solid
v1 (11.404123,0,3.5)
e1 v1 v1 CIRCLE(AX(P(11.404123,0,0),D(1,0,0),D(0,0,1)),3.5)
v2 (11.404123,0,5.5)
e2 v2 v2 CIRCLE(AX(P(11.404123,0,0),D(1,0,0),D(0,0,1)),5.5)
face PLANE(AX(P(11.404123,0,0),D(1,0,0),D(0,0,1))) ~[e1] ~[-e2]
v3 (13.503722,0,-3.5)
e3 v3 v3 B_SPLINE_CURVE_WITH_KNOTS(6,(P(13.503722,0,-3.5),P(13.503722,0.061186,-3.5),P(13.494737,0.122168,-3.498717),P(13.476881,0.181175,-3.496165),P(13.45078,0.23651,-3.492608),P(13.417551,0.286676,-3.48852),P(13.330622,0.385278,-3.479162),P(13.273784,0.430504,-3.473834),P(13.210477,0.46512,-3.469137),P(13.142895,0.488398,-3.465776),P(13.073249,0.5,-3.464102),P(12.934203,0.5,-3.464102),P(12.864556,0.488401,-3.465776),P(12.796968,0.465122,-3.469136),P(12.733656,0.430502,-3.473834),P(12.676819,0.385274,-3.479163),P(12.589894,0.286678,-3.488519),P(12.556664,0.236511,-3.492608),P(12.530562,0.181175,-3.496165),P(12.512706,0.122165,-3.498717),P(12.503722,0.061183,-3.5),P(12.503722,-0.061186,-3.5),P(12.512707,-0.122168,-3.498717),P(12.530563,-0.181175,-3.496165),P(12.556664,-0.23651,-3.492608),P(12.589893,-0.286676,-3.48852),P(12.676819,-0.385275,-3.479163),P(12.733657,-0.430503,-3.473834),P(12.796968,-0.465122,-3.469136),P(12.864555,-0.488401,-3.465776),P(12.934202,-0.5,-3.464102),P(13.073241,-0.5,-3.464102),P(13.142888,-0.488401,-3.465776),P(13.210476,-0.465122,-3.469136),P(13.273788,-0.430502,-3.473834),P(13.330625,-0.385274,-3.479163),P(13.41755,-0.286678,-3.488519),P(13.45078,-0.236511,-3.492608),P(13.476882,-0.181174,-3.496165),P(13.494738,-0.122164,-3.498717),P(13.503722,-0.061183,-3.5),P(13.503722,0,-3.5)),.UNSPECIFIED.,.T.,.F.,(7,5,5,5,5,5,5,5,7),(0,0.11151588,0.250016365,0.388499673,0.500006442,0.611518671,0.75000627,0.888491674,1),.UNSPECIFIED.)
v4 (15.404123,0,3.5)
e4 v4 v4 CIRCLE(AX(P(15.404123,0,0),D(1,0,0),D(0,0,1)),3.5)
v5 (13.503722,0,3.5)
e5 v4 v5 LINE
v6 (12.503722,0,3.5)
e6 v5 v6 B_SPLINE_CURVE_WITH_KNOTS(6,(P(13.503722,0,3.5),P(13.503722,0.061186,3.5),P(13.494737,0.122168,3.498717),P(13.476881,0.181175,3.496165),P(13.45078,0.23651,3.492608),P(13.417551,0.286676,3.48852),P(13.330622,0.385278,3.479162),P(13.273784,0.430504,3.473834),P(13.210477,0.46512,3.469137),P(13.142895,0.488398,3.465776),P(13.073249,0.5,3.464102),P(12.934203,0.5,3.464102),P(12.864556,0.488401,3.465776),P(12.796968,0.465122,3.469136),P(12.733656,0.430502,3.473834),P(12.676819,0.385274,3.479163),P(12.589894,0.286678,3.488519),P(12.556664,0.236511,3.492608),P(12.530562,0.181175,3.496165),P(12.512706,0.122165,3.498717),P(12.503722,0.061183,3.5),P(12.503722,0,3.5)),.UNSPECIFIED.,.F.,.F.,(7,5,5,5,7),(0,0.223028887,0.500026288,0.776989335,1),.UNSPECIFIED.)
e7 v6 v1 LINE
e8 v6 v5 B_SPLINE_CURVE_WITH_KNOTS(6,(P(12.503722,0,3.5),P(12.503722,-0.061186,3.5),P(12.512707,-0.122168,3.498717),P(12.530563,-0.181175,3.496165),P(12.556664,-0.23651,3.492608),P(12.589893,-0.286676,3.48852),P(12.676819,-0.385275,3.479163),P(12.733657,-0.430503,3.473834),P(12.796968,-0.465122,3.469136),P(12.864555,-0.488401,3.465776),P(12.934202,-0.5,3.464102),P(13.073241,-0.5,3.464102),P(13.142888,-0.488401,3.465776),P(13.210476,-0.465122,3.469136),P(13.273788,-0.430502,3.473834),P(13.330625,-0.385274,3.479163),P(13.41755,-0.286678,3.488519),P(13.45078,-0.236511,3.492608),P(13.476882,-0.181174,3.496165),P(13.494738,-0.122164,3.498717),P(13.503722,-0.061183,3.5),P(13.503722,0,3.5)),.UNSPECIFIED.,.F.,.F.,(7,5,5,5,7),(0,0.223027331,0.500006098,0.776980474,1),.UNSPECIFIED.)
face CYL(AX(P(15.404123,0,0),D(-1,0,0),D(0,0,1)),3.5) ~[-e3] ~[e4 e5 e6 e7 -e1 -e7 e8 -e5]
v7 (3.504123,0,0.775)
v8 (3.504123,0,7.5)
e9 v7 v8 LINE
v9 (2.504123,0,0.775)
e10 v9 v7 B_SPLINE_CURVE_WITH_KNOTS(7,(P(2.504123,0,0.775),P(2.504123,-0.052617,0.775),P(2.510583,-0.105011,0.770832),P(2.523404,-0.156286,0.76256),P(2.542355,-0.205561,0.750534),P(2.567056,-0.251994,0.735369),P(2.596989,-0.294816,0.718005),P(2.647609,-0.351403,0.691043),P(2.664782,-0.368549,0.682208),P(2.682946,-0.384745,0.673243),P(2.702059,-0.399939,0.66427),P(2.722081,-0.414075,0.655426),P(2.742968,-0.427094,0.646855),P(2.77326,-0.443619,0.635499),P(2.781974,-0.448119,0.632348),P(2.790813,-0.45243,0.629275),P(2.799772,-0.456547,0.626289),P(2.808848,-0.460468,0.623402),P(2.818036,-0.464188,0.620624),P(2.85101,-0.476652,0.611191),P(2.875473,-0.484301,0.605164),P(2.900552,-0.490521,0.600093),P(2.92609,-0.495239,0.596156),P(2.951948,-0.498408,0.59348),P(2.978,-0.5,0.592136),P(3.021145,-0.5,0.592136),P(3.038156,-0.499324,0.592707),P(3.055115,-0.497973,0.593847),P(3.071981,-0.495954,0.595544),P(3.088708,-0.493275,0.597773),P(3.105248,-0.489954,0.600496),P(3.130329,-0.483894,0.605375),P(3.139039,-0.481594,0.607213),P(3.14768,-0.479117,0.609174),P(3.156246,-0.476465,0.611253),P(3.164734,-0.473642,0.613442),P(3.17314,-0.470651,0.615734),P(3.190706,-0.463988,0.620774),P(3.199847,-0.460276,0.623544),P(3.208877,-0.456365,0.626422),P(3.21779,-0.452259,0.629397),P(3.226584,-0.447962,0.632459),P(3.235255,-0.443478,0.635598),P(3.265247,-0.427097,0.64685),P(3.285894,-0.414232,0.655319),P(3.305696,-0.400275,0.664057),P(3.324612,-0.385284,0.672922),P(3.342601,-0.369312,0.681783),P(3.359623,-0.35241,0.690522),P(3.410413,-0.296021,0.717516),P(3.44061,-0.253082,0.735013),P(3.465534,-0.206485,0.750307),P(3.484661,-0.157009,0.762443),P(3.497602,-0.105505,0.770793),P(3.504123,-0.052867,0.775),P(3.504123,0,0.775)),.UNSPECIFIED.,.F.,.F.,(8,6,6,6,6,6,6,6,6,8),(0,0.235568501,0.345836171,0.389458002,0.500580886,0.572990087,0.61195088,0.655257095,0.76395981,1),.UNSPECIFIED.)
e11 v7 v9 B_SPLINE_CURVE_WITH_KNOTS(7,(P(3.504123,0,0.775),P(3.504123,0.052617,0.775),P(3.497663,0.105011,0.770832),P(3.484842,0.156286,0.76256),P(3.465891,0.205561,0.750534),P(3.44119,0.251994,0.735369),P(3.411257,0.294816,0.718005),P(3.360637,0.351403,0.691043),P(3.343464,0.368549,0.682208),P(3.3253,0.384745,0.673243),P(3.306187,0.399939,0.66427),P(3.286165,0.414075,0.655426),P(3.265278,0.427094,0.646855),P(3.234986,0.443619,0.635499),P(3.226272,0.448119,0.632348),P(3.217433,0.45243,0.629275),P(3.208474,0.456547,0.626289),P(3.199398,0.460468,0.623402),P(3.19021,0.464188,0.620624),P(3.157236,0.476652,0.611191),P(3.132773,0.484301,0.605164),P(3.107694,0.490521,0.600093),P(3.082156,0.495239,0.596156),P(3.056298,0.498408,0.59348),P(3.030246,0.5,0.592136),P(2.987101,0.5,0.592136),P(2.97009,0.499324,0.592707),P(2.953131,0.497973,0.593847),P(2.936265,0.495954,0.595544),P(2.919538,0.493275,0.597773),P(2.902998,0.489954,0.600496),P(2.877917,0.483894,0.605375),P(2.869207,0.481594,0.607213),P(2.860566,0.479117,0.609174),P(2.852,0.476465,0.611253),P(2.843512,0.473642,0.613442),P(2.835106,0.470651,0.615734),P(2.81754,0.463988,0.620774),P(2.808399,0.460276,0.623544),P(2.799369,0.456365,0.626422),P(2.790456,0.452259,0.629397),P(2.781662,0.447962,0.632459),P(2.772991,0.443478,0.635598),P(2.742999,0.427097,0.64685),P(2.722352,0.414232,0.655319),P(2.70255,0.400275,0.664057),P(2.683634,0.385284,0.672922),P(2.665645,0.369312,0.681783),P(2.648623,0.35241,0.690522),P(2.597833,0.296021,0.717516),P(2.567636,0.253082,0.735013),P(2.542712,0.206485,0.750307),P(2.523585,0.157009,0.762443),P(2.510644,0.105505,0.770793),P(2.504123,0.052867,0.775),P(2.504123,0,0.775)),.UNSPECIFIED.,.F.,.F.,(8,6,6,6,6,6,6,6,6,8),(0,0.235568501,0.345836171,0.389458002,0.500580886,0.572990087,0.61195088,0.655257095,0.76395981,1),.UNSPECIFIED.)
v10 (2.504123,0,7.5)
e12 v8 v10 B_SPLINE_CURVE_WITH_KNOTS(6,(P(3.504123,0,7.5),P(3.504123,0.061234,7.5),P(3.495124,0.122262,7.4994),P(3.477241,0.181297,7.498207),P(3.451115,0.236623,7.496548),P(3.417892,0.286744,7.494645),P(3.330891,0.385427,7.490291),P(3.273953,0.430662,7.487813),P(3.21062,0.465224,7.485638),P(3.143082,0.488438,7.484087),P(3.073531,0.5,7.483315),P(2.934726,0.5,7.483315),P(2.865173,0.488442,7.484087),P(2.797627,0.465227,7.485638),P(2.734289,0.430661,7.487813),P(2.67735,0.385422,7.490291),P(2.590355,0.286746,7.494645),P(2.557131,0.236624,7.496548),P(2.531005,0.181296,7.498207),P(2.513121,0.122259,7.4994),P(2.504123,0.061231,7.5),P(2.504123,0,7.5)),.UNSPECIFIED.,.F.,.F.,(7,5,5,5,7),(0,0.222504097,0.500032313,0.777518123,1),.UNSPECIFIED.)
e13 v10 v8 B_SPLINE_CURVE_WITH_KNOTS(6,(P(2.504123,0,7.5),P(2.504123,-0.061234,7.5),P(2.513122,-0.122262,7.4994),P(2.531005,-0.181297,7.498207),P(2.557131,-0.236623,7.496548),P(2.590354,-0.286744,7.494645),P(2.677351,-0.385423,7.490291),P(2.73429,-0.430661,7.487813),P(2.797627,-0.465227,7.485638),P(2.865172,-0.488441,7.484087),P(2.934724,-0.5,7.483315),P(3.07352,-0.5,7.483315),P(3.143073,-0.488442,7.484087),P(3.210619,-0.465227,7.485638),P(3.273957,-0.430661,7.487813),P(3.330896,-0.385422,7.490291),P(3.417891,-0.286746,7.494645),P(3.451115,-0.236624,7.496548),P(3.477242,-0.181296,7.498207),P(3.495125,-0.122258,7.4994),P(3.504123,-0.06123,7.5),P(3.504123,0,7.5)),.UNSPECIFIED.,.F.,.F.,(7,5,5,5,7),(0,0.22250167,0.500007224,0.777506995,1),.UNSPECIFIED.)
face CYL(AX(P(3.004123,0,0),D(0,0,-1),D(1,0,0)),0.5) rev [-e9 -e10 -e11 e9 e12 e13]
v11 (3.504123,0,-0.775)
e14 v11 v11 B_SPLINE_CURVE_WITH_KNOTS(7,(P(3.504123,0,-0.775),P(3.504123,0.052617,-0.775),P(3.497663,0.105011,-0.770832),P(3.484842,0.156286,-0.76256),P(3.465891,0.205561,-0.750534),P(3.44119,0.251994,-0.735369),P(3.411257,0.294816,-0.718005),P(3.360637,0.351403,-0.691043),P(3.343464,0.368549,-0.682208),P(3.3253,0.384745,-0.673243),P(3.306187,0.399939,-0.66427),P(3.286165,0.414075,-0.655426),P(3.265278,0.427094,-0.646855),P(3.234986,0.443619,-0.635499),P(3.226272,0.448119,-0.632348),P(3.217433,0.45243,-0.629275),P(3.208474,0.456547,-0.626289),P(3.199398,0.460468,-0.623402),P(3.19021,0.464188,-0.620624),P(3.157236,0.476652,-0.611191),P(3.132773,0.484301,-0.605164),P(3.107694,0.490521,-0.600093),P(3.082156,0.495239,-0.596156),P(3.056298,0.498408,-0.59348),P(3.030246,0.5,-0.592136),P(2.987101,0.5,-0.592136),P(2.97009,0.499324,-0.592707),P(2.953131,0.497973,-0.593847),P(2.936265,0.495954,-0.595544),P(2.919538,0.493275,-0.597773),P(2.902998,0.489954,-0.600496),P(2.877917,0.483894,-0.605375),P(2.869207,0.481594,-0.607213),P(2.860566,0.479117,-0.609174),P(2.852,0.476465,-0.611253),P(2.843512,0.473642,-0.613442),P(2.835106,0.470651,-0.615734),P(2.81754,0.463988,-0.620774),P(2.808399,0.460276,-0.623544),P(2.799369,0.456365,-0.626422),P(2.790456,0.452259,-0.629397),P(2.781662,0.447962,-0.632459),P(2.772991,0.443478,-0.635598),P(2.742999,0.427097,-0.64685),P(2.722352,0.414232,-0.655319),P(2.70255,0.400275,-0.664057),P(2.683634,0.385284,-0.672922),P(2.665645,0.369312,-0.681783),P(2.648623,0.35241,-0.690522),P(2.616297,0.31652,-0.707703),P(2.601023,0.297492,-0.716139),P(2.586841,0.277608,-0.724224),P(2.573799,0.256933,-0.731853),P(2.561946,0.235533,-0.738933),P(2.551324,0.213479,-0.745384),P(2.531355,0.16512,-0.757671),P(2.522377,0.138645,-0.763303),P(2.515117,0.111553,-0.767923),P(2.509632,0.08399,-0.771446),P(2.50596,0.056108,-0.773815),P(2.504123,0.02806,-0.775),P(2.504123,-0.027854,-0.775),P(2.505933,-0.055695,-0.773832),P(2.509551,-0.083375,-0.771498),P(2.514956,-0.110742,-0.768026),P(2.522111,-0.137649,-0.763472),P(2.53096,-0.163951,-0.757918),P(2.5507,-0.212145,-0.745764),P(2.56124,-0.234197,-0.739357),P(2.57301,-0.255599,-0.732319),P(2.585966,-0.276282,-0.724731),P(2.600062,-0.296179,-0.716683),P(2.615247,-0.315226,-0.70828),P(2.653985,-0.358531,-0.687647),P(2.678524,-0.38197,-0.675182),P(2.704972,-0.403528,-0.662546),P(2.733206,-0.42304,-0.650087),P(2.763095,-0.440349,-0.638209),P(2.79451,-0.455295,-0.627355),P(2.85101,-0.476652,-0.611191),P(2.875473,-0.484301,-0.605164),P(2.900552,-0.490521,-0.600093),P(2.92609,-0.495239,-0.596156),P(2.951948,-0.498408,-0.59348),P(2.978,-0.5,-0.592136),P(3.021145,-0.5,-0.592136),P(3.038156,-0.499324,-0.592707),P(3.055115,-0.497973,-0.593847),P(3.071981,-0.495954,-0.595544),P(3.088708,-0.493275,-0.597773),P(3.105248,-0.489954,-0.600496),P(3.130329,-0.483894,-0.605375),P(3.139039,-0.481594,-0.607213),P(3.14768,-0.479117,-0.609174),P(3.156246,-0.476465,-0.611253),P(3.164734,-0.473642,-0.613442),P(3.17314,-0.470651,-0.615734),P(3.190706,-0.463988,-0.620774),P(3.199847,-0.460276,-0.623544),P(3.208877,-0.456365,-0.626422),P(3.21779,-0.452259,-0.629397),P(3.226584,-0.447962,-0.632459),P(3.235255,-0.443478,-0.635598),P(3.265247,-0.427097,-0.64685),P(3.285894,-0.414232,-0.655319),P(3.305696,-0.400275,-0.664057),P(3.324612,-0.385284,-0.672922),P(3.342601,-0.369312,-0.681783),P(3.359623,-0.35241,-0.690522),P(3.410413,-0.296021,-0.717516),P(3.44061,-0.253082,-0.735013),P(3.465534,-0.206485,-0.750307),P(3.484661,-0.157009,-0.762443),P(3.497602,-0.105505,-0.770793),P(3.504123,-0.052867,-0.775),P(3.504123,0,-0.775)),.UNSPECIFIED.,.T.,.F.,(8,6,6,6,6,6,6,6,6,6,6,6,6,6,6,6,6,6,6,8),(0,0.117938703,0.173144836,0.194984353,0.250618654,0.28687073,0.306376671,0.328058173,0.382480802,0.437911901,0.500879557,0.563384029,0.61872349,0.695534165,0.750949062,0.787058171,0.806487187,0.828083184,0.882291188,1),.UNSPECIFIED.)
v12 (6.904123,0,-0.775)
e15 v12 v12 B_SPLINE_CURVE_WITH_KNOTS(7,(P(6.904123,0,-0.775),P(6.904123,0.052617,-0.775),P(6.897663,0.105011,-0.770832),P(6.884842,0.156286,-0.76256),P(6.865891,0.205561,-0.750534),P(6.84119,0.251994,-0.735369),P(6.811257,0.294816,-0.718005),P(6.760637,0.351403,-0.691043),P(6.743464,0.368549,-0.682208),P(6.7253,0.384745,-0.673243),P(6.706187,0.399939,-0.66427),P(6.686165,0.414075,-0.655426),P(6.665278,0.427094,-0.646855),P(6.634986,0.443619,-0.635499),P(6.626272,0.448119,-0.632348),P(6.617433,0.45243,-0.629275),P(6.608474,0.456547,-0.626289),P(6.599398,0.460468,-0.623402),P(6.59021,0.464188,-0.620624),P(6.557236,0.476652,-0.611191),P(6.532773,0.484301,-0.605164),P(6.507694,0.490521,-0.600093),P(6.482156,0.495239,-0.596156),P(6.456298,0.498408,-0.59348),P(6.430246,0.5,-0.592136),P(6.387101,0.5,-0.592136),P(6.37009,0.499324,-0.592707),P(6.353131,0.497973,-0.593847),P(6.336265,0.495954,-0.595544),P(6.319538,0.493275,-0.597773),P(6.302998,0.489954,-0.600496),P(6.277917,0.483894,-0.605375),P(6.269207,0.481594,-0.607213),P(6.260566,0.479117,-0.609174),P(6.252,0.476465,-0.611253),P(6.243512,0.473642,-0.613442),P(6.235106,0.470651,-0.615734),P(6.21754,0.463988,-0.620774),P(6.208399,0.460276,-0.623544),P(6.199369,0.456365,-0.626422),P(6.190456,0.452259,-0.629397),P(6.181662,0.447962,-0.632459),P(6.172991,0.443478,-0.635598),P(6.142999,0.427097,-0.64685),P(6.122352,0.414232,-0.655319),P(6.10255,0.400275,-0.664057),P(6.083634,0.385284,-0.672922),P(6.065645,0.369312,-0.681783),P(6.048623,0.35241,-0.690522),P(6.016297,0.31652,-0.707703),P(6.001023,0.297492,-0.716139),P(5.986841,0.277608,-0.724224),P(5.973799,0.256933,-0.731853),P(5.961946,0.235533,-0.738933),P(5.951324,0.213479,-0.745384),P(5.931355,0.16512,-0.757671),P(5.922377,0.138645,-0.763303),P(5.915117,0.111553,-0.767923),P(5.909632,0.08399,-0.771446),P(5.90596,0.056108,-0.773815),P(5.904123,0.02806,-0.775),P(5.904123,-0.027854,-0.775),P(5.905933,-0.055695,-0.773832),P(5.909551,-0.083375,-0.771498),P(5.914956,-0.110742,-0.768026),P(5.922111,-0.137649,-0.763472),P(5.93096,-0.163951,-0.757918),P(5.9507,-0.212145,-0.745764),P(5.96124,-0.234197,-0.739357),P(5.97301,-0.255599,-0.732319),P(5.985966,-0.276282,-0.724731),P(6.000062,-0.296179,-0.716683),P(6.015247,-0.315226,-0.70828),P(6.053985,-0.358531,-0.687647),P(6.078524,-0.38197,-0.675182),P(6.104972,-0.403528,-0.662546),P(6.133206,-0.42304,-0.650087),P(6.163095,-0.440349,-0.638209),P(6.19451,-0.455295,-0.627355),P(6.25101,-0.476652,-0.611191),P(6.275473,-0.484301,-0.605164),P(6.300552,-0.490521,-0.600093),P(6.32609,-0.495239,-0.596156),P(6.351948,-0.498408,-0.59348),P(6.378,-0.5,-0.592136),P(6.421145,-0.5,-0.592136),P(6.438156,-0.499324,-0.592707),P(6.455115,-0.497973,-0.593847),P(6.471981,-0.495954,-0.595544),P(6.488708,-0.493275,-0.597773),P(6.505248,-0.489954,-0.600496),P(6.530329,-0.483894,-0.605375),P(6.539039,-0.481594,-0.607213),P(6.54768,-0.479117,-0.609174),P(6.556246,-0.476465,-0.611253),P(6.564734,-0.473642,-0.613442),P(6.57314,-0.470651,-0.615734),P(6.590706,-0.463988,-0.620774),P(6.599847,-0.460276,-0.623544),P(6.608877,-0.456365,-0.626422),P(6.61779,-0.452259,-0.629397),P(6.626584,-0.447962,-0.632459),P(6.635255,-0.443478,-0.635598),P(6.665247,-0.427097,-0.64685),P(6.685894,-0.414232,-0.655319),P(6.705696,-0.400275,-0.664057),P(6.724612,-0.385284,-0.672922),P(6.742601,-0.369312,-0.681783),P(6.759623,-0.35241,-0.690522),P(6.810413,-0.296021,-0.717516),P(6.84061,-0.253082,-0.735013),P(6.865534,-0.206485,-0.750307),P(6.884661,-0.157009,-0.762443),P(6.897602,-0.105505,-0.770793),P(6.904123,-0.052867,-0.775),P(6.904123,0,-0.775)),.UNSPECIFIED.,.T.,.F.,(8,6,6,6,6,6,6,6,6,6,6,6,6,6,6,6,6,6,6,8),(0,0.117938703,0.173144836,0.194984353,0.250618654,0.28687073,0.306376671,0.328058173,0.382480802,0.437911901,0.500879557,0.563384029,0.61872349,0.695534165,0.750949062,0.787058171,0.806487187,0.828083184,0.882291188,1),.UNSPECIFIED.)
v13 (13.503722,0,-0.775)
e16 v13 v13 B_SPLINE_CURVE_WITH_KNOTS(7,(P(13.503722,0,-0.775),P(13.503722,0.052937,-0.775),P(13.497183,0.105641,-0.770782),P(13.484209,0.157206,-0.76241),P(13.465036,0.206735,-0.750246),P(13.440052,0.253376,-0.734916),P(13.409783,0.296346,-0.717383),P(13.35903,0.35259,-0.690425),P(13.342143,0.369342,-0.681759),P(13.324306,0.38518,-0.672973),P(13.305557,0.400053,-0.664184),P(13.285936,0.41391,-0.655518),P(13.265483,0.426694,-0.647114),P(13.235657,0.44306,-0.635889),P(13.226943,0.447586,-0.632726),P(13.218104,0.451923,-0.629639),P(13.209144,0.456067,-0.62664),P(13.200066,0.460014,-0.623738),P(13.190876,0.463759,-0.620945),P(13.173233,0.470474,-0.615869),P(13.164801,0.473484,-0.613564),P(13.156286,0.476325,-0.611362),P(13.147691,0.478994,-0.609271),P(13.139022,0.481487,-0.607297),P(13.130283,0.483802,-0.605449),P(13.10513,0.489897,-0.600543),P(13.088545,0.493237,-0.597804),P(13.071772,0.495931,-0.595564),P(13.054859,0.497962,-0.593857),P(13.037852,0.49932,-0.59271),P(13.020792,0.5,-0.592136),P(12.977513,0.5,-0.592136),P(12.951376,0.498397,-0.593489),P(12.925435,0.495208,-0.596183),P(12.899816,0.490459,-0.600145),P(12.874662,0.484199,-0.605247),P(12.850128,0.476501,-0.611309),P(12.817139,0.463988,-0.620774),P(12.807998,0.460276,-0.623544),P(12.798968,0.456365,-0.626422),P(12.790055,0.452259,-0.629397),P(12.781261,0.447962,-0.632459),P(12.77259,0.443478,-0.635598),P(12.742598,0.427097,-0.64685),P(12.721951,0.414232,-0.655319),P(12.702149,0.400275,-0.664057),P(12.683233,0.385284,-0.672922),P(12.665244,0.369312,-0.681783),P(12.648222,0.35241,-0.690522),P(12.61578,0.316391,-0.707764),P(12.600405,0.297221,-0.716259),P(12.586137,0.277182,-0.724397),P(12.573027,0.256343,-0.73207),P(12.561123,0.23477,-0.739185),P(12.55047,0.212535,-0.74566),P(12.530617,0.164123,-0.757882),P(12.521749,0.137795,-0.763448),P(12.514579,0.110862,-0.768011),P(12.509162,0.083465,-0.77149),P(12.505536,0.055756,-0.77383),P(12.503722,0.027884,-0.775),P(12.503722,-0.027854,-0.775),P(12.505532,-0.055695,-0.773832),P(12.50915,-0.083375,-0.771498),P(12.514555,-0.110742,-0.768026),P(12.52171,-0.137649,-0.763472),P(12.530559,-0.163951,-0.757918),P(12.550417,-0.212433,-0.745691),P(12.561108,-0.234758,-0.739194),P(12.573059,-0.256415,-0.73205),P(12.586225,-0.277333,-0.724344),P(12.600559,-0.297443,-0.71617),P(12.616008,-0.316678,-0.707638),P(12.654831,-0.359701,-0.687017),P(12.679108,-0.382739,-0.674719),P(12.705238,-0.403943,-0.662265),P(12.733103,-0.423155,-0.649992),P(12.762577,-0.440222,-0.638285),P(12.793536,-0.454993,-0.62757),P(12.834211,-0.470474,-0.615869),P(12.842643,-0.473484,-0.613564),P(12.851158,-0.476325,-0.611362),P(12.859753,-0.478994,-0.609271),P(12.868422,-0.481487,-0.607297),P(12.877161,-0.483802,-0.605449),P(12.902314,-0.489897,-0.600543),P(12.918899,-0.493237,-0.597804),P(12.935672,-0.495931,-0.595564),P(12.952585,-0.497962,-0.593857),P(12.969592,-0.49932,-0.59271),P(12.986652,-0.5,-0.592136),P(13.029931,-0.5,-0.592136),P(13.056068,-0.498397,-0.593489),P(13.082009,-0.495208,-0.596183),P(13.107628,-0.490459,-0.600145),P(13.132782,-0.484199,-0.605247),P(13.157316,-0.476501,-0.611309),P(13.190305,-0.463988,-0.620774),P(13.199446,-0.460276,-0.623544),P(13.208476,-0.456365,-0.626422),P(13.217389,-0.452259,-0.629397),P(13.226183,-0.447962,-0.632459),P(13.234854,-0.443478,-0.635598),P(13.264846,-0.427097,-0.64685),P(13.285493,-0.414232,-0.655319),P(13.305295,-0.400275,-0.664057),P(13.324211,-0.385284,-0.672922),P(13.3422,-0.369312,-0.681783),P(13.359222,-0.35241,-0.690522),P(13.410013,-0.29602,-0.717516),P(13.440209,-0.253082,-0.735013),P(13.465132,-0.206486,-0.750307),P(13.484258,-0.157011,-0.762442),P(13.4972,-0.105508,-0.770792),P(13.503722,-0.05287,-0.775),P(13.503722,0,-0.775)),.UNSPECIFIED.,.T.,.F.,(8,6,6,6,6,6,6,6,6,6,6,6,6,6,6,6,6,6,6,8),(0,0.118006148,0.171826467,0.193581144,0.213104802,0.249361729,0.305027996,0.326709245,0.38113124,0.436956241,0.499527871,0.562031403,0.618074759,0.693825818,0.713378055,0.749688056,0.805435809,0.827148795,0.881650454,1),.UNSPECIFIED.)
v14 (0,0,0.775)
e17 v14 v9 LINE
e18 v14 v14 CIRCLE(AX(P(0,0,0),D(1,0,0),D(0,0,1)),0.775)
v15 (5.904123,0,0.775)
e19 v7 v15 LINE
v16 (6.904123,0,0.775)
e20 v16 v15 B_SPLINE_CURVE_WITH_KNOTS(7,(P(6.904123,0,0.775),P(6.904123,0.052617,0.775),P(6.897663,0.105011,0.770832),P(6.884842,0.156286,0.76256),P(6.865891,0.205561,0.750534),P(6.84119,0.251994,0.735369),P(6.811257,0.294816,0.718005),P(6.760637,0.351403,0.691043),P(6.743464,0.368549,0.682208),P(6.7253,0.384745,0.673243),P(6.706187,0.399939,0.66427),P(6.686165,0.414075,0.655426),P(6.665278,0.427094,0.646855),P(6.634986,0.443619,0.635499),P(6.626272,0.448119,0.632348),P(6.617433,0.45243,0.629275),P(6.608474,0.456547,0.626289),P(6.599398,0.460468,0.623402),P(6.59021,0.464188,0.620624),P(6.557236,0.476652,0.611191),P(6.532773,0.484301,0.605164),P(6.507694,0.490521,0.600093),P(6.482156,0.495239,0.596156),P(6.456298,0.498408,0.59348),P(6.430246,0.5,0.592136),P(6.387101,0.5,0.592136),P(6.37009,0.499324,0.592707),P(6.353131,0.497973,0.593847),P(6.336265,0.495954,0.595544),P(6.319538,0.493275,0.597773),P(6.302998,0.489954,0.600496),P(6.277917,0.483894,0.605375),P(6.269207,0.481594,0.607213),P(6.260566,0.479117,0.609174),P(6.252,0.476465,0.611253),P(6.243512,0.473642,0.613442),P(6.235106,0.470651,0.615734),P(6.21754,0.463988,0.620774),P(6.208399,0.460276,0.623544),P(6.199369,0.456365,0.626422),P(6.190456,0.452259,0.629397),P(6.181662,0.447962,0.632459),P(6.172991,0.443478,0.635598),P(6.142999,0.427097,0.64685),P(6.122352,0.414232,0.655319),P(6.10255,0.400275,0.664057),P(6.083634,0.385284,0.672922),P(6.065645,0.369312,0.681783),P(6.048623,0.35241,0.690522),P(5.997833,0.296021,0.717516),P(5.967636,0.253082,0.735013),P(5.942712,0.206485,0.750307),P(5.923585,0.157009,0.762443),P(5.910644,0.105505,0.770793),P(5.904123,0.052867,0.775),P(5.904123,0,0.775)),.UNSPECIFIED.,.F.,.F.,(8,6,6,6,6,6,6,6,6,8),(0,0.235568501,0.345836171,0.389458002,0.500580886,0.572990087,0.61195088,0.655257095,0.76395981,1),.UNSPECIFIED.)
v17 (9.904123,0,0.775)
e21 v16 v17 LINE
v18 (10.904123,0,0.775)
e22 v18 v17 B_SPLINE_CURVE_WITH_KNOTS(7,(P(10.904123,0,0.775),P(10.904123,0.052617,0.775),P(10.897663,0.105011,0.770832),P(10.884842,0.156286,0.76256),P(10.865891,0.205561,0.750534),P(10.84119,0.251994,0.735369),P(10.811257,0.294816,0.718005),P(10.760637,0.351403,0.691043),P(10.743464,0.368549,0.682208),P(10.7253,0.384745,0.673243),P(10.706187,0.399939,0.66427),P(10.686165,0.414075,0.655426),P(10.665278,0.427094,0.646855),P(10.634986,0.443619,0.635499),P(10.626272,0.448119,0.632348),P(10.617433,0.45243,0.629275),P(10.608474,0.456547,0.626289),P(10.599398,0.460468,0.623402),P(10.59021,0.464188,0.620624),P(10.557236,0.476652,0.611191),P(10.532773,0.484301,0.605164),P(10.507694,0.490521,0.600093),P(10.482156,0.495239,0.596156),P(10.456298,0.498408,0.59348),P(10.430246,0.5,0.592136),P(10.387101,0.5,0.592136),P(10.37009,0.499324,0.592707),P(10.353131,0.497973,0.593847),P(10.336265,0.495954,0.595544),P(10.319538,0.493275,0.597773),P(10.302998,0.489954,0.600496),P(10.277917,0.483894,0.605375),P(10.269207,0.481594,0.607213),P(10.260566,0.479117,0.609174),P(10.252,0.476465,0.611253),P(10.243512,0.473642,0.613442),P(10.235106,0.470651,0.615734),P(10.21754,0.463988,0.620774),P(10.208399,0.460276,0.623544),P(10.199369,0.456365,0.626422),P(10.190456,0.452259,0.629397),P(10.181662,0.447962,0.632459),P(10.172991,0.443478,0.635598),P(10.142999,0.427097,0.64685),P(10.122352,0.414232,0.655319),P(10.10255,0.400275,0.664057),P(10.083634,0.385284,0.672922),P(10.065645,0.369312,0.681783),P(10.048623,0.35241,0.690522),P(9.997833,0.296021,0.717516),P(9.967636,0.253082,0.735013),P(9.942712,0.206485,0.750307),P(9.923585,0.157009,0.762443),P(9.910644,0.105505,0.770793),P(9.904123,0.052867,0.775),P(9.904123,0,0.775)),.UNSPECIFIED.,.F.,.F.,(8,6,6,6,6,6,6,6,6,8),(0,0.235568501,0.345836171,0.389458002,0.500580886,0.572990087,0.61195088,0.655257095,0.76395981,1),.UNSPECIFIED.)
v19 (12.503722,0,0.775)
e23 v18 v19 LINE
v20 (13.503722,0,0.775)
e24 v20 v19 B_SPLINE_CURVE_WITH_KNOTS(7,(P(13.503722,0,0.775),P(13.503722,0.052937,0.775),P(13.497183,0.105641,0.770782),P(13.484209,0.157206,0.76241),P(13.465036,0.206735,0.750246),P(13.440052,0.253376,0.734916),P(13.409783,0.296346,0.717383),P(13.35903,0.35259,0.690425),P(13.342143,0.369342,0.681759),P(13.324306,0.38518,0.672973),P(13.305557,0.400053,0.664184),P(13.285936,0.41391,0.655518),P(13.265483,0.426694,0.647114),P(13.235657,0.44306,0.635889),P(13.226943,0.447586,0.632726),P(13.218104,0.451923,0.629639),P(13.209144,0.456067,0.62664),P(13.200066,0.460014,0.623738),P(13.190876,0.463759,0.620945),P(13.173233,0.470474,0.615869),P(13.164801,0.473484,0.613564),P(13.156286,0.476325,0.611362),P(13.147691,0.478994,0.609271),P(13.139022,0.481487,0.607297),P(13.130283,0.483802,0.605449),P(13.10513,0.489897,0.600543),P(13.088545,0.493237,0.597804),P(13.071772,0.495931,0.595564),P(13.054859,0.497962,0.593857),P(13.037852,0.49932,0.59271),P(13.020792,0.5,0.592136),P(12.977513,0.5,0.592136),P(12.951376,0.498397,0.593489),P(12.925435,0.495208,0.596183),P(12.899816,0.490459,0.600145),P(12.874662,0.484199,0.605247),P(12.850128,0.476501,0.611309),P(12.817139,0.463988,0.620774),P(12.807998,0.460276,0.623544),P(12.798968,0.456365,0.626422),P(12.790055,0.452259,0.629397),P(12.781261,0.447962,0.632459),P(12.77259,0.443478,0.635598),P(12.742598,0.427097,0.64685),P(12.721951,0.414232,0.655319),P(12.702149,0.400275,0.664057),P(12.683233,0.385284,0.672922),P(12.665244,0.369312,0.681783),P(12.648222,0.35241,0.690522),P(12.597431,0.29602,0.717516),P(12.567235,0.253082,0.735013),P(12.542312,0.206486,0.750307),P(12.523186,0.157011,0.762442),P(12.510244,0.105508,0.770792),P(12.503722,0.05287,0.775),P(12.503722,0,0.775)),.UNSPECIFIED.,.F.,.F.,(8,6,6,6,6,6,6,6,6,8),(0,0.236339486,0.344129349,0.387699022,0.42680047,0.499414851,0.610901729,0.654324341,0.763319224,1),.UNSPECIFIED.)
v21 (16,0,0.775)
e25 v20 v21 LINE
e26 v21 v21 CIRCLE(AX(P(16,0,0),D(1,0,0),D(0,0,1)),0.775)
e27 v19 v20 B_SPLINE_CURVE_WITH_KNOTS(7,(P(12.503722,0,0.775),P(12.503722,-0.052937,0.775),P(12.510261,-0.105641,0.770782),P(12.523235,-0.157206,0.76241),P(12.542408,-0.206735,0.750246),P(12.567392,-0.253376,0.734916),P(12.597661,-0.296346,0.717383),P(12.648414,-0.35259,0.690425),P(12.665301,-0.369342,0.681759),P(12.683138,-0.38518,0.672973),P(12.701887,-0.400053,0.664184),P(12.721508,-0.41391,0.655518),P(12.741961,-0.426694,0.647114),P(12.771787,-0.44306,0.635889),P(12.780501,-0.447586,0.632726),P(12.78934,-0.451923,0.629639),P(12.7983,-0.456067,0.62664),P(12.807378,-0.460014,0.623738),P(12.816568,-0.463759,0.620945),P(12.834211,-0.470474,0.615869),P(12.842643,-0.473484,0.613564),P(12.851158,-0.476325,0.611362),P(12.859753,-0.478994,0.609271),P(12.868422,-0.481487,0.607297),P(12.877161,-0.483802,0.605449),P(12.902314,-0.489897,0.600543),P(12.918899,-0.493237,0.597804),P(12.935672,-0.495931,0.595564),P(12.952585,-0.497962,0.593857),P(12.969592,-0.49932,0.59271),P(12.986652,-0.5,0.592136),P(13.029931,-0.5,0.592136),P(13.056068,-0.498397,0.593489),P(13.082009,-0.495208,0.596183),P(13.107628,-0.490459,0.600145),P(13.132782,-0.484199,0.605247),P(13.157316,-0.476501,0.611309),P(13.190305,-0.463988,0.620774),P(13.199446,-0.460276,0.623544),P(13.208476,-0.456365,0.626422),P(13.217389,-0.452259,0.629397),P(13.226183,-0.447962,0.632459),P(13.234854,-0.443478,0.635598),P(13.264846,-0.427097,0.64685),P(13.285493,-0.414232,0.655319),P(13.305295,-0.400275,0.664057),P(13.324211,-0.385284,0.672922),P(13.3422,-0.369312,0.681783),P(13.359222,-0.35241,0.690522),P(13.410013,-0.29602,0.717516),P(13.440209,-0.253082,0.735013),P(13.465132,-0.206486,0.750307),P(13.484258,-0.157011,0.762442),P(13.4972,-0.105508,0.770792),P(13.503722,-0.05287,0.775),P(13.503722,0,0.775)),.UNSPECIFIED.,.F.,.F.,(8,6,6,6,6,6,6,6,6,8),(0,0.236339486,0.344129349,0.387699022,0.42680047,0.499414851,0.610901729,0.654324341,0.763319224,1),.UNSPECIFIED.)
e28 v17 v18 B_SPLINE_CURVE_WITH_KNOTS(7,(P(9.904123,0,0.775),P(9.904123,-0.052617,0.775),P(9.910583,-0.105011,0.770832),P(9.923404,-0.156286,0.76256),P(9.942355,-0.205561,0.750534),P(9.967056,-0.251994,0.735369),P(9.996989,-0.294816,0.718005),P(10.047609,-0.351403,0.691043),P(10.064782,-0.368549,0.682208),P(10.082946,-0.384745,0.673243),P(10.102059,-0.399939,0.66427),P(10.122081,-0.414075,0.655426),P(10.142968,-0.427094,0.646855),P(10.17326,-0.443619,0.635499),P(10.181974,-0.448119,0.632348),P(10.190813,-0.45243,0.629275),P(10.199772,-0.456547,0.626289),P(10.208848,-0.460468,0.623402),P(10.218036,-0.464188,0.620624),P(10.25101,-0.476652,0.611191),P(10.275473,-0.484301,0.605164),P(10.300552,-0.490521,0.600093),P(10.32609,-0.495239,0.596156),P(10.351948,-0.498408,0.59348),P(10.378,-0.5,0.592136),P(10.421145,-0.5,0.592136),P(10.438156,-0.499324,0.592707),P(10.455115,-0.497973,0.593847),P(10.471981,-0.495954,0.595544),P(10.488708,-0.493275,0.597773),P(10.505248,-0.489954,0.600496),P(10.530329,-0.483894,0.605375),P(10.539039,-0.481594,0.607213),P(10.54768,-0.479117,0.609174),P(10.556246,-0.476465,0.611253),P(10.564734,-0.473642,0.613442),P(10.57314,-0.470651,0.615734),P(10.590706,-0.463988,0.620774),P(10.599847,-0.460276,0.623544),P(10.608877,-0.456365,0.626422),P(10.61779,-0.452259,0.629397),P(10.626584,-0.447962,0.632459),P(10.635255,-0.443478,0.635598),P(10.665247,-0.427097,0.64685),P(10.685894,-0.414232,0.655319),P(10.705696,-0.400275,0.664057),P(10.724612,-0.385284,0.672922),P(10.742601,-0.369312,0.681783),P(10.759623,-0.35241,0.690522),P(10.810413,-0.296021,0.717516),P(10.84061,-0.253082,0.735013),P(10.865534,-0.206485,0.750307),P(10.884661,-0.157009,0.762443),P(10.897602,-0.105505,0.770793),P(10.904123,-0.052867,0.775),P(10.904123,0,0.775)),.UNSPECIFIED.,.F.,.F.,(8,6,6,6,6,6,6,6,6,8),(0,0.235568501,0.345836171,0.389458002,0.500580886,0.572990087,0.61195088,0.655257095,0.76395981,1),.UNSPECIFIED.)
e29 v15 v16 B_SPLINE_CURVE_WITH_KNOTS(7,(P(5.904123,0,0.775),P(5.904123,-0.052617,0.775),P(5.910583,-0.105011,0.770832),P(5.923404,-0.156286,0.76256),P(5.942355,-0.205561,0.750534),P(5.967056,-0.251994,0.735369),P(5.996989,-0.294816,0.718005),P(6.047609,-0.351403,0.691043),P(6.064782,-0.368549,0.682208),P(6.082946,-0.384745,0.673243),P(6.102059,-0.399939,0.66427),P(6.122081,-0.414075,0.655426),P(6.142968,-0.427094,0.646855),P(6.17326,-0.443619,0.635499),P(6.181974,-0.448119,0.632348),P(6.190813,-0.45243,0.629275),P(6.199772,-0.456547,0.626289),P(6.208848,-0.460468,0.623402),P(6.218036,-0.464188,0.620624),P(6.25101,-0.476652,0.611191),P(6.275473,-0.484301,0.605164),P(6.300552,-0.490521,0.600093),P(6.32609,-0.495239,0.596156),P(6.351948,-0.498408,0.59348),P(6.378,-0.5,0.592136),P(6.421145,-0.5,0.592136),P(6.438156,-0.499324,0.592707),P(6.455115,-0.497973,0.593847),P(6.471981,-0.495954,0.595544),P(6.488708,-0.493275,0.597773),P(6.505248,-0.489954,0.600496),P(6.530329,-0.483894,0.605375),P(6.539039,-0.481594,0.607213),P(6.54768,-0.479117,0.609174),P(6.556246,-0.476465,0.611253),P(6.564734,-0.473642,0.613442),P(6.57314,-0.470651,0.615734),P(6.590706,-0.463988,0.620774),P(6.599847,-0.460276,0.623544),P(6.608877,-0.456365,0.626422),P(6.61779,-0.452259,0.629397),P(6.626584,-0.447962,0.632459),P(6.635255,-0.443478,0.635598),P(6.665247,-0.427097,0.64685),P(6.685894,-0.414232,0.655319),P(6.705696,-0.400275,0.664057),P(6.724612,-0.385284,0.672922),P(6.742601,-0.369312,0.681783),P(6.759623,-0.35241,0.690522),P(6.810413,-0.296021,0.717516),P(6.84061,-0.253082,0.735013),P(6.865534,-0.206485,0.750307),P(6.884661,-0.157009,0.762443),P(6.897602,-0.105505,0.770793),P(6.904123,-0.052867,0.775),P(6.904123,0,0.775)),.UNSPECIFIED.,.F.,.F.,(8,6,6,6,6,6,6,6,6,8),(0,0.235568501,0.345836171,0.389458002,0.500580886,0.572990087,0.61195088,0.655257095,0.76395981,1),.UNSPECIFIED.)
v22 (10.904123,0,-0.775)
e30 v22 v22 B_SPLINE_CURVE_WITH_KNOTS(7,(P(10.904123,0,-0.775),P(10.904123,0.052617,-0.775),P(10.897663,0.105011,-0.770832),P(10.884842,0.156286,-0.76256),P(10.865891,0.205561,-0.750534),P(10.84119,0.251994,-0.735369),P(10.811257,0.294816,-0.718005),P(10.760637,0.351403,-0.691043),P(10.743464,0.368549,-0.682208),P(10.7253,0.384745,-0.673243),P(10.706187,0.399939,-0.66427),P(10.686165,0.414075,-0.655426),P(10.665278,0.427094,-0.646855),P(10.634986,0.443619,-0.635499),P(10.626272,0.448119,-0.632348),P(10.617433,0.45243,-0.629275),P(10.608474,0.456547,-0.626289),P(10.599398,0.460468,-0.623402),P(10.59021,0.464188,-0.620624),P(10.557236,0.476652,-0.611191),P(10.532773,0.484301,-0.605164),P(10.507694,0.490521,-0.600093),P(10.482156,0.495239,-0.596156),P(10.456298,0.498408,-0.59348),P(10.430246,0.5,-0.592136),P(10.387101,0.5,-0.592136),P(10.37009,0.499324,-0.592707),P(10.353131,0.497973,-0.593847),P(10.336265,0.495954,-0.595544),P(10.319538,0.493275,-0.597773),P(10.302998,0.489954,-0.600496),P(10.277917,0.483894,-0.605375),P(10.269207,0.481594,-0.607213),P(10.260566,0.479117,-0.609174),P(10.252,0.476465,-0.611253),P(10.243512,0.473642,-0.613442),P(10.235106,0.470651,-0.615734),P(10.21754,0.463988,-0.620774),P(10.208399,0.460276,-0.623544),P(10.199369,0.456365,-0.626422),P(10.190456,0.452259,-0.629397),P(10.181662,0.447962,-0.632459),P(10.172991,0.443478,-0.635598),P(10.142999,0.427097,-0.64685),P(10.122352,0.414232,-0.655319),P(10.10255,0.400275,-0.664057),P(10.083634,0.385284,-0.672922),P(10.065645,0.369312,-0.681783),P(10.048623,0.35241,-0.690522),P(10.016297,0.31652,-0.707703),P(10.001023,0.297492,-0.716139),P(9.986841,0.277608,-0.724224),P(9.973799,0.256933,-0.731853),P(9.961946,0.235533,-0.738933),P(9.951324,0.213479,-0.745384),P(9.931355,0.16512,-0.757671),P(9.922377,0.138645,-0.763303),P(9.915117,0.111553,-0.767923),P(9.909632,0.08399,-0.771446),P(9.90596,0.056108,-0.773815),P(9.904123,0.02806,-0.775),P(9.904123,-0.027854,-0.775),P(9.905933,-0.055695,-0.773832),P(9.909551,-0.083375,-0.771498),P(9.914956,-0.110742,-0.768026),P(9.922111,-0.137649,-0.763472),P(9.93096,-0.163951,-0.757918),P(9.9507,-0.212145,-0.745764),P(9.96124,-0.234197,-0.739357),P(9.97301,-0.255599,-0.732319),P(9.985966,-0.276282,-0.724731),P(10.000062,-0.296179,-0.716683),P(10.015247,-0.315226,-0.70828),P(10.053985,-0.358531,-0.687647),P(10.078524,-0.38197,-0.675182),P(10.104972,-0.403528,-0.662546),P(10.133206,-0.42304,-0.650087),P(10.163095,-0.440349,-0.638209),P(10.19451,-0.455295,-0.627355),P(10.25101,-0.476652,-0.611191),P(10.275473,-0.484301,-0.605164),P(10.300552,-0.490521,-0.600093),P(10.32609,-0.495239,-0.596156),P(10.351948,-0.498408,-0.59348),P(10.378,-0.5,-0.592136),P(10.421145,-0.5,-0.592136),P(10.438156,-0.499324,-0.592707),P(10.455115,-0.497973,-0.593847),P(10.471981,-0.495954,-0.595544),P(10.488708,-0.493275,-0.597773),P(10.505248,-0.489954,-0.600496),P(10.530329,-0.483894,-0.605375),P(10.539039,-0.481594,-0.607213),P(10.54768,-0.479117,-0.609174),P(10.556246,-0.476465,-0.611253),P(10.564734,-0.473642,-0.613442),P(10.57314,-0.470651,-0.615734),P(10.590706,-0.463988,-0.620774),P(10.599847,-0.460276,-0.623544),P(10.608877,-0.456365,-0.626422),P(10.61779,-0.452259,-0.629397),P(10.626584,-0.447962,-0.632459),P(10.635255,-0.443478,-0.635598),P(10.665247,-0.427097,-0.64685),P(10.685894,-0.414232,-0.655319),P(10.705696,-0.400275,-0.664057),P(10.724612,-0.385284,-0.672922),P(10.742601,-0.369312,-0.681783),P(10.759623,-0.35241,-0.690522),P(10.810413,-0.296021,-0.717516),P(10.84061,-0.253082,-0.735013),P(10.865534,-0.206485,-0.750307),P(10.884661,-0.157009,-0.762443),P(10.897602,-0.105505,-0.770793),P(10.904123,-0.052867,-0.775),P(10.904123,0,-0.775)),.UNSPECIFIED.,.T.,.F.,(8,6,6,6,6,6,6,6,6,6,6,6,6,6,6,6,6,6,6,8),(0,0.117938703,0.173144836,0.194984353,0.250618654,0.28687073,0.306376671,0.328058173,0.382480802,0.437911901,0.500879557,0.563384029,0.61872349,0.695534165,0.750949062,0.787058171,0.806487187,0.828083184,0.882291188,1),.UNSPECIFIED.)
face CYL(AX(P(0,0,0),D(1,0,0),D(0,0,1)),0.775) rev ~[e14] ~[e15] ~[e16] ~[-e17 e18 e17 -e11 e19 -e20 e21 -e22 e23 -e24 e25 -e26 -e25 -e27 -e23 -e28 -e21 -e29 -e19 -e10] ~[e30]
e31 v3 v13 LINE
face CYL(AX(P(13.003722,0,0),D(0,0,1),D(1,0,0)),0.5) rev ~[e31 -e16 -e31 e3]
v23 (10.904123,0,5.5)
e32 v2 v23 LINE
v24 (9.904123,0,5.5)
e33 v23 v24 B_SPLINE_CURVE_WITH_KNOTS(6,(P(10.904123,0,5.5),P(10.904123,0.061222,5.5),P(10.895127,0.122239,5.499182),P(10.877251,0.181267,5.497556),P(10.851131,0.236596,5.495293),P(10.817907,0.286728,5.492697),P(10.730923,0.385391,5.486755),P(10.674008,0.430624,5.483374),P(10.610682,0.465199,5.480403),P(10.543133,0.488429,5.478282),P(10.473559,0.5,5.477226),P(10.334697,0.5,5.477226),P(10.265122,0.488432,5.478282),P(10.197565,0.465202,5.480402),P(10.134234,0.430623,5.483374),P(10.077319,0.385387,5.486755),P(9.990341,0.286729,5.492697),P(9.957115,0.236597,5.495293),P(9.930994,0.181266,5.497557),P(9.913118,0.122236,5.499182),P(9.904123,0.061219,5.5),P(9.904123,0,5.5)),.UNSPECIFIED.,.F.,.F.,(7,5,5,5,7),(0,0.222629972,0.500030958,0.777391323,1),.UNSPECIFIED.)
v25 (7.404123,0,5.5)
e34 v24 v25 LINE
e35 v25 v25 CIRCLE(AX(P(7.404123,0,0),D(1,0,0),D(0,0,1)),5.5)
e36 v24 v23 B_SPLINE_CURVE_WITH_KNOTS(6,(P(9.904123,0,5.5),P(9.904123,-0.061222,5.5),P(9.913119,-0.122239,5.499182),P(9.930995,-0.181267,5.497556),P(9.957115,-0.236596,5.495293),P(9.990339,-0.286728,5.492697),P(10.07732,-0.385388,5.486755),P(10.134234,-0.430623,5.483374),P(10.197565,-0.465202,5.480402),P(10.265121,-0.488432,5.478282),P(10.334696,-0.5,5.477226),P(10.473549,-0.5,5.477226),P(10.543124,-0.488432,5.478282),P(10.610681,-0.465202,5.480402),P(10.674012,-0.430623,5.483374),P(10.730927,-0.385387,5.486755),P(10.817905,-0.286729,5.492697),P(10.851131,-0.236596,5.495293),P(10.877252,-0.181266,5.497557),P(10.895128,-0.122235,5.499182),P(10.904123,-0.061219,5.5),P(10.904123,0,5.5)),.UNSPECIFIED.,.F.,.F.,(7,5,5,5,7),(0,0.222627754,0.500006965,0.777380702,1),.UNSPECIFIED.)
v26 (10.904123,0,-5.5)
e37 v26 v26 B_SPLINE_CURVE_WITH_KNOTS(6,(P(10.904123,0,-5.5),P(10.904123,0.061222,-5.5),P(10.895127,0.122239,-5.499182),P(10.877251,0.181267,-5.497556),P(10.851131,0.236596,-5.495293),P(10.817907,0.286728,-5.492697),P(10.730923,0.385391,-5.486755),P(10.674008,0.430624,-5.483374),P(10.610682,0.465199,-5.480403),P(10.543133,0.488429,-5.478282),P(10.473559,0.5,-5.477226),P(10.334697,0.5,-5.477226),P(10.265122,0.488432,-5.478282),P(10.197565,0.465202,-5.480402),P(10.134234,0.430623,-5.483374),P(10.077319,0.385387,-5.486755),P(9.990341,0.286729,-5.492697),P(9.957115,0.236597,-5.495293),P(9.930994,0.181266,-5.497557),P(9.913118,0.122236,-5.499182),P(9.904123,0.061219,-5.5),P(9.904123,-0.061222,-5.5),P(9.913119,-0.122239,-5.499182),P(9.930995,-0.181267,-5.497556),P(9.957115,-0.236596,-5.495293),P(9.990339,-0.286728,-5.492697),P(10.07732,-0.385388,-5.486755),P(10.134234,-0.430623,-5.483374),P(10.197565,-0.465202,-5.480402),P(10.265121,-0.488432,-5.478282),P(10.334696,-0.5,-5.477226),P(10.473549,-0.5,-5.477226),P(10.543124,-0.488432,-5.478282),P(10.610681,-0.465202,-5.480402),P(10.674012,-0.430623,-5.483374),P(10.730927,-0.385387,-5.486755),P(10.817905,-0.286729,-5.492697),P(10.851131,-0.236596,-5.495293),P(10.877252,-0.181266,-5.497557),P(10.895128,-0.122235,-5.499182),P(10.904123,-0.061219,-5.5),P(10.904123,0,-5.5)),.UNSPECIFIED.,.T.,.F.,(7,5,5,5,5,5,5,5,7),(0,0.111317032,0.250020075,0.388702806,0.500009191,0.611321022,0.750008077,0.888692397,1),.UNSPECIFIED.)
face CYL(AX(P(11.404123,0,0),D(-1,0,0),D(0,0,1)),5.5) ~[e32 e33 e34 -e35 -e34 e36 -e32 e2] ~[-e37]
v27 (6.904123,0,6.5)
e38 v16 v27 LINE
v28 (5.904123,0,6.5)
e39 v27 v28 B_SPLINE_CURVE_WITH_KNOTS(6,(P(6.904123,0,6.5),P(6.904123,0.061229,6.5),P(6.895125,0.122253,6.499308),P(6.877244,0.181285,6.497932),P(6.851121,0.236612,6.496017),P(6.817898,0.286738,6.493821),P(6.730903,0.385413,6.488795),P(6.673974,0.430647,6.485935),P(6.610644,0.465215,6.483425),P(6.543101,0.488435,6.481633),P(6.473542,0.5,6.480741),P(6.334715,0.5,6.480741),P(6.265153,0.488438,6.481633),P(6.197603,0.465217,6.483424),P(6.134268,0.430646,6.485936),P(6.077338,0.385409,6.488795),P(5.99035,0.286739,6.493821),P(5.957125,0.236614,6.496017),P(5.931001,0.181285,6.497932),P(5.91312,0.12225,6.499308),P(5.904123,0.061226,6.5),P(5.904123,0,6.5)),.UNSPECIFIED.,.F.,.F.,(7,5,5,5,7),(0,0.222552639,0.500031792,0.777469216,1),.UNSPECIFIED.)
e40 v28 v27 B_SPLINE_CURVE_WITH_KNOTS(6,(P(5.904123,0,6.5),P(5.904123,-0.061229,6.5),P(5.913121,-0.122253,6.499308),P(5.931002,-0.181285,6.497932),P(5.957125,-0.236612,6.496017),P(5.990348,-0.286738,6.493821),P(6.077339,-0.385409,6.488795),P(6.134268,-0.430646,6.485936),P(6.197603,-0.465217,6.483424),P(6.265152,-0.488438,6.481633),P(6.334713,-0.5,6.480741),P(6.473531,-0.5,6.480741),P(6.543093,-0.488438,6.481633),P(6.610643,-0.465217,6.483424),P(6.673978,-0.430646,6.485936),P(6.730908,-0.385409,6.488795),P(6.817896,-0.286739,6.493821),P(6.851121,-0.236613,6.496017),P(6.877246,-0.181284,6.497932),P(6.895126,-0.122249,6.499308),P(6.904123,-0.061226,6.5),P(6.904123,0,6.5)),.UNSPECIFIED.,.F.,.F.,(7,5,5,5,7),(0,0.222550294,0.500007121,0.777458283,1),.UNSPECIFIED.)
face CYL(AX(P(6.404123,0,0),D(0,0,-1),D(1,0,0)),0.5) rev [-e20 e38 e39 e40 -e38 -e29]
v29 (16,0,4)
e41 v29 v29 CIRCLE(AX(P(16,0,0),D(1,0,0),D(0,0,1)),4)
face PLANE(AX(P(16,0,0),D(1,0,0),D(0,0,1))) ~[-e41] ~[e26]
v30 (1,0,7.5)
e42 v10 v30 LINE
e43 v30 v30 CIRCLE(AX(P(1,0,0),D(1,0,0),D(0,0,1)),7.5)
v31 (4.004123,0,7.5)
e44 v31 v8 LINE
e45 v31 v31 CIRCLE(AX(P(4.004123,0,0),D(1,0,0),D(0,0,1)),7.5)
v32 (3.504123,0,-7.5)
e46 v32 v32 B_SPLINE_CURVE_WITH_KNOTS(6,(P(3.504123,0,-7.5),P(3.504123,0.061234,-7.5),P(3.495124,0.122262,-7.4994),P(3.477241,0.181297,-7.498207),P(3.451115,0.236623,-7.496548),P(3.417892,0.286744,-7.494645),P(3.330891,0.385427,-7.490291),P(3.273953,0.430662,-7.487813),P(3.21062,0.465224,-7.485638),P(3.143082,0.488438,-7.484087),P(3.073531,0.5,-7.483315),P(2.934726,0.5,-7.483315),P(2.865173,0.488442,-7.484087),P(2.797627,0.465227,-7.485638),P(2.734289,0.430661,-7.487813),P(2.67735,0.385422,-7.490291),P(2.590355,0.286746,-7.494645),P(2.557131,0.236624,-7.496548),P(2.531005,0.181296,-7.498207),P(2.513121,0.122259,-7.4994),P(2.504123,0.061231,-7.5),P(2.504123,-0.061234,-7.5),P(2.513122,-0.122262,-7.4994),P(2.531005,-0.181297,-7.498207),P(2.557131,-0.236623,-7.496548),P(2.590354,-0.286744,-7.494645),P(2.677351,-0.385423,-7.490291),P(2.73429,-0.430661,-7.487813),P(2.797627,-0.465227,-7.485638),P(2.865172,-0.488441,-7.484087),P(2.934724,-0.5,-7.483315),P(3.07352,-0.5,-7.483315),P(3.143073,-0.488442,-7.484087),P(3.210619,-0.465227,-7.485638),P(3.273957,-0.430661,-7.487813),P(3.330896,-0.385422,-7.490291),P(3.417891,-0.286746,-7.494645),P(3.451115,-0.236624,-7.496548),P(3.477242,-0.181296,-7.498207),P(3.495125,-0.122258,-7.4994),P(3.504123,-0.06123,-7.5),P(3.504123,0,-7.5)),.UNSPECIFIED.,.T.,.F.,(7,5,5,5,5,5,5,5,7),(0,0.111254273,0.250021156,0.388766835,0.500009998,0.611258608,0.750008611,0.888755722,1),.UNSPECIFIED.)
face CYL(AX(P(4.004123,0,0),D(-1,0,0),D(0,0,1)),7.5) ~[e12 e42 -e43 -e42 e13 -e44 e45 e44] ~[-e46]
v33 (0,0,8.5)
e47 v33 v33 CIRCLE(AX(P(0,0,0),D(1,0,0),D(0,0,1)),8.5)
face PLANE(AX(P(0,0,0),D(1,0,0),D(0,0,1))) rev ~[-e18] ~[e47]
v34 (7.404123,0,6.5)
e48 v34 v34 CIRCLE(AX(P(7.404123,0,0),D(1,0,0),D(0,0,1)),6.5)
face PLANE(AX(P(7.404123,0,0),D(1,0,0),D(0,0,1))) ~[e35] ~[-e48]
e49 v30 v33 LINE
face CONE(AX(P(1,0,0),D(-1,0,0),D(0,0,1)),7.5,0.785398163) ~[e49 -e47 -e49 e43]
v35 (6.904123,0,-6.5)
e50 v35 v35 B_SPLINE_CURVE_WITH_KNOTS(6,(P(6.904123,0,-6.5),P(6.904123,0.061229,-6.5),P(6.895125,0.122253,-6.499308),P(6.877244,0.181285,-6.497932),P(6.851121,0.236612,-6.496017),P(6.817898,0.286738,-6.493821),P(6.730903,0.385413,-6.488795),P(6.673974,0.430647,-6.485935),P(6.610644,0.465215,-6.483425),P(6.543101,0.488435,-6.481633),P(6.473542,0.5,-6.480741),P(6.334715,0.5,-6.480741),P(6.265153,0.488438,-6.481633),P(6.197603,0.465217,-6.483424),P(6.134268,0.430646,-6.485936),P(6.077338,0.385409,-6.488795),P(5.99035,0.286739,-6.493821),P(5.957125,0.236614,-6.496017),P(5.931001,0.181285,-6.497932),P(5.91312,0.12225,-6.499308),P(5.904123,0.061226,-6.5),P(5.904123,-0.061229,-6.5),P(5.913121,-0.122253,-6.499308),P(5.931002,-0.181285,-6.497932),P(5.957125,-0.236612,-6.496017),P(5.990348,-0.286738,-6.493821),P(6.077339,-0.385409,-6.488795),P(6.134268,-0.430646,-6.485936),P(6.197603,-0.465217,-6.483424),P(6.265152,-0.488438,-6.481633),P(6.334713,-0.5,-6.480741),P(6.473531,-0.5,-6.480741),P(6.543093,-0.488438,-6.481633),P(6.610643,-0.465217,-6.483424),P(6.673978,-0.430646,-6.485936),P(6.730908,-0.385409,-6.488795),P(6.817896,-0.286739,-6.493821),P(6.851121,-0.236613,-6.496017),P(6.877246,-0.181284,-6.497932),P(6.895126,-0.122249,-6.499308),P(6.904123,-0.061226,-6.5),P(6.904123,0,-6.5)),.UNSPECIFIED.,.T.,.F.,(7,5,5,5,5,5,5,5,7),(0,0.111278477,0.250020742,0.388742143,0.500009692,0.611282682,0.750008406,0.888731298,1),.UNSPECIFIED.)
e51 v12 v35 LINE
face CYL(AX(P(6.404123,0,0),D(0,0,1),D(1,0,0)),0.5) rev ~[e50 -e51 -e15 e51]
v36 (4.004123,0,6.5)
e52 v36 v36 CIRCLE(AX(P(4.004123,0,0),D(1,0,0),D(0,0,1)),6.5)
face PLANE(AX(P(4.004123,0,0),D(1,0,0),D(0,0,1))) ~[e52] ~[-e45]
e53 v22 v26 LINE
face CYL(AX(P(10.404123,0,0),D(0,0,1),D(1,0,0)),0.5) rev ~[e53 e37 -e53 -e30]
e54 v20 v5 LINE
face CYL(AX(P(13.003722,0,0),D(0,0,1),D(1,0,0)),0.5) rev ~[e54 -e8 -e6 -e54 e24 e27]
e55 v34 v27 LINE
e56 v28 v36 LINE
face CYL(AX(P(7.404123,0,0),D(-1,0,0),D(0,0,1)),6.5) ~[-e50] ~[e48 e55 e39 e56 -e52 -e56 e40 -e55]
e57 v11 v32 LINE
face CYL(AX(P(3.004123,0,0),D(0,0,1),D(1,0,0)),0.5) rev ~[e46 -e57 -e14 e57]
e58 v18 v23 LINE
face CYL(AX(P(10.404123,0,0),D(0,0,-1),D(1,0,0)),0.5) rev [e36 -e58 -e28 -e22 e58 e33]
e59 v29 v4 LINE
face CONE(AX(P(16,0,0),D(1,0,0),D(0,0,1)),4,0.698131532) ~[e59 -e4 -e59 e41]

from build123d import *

# Parameters (mm, degrees)
F2_R     = 0.5
F3_DEPTH = 12.5


with BuildPart() as f1:
    # F0 (on Front) → F1 (revolve)
    with BuildSketch(Plane.XZ):
        Polygon((1, 7.5), (0, 8.5), (0, 0.775), (16, 0.775), (16, 4), (15.404123, 3.5), (11.404123, 3.5), (11.404123, 5.5), (7.404123, 5.5), (7.404123, 6.5), (4.004123, 6.5), (4.004123, 7.5), align=None)
    revolve(axis=Axis((6.044726, 0, 0), (1, 0, 0)))

    # F2 (on Top) → F3 (cut, symmetric)
    with BuildSketch(Plane.XY):
        with Locations((3.004123, 0)):
            Circle(F2_R)
        with Locations((6.404123, 0)):
            Circle(F2_R)
        with Locations((10.404123, 0)):
            Circle(F2_R)
        with Locations((13.003722, 0)):
            Circle(F2_R)
    extrude(amount=F3_DEPTH, both=True, mode=Mode.SUBTRACT)


solid = f1.part
